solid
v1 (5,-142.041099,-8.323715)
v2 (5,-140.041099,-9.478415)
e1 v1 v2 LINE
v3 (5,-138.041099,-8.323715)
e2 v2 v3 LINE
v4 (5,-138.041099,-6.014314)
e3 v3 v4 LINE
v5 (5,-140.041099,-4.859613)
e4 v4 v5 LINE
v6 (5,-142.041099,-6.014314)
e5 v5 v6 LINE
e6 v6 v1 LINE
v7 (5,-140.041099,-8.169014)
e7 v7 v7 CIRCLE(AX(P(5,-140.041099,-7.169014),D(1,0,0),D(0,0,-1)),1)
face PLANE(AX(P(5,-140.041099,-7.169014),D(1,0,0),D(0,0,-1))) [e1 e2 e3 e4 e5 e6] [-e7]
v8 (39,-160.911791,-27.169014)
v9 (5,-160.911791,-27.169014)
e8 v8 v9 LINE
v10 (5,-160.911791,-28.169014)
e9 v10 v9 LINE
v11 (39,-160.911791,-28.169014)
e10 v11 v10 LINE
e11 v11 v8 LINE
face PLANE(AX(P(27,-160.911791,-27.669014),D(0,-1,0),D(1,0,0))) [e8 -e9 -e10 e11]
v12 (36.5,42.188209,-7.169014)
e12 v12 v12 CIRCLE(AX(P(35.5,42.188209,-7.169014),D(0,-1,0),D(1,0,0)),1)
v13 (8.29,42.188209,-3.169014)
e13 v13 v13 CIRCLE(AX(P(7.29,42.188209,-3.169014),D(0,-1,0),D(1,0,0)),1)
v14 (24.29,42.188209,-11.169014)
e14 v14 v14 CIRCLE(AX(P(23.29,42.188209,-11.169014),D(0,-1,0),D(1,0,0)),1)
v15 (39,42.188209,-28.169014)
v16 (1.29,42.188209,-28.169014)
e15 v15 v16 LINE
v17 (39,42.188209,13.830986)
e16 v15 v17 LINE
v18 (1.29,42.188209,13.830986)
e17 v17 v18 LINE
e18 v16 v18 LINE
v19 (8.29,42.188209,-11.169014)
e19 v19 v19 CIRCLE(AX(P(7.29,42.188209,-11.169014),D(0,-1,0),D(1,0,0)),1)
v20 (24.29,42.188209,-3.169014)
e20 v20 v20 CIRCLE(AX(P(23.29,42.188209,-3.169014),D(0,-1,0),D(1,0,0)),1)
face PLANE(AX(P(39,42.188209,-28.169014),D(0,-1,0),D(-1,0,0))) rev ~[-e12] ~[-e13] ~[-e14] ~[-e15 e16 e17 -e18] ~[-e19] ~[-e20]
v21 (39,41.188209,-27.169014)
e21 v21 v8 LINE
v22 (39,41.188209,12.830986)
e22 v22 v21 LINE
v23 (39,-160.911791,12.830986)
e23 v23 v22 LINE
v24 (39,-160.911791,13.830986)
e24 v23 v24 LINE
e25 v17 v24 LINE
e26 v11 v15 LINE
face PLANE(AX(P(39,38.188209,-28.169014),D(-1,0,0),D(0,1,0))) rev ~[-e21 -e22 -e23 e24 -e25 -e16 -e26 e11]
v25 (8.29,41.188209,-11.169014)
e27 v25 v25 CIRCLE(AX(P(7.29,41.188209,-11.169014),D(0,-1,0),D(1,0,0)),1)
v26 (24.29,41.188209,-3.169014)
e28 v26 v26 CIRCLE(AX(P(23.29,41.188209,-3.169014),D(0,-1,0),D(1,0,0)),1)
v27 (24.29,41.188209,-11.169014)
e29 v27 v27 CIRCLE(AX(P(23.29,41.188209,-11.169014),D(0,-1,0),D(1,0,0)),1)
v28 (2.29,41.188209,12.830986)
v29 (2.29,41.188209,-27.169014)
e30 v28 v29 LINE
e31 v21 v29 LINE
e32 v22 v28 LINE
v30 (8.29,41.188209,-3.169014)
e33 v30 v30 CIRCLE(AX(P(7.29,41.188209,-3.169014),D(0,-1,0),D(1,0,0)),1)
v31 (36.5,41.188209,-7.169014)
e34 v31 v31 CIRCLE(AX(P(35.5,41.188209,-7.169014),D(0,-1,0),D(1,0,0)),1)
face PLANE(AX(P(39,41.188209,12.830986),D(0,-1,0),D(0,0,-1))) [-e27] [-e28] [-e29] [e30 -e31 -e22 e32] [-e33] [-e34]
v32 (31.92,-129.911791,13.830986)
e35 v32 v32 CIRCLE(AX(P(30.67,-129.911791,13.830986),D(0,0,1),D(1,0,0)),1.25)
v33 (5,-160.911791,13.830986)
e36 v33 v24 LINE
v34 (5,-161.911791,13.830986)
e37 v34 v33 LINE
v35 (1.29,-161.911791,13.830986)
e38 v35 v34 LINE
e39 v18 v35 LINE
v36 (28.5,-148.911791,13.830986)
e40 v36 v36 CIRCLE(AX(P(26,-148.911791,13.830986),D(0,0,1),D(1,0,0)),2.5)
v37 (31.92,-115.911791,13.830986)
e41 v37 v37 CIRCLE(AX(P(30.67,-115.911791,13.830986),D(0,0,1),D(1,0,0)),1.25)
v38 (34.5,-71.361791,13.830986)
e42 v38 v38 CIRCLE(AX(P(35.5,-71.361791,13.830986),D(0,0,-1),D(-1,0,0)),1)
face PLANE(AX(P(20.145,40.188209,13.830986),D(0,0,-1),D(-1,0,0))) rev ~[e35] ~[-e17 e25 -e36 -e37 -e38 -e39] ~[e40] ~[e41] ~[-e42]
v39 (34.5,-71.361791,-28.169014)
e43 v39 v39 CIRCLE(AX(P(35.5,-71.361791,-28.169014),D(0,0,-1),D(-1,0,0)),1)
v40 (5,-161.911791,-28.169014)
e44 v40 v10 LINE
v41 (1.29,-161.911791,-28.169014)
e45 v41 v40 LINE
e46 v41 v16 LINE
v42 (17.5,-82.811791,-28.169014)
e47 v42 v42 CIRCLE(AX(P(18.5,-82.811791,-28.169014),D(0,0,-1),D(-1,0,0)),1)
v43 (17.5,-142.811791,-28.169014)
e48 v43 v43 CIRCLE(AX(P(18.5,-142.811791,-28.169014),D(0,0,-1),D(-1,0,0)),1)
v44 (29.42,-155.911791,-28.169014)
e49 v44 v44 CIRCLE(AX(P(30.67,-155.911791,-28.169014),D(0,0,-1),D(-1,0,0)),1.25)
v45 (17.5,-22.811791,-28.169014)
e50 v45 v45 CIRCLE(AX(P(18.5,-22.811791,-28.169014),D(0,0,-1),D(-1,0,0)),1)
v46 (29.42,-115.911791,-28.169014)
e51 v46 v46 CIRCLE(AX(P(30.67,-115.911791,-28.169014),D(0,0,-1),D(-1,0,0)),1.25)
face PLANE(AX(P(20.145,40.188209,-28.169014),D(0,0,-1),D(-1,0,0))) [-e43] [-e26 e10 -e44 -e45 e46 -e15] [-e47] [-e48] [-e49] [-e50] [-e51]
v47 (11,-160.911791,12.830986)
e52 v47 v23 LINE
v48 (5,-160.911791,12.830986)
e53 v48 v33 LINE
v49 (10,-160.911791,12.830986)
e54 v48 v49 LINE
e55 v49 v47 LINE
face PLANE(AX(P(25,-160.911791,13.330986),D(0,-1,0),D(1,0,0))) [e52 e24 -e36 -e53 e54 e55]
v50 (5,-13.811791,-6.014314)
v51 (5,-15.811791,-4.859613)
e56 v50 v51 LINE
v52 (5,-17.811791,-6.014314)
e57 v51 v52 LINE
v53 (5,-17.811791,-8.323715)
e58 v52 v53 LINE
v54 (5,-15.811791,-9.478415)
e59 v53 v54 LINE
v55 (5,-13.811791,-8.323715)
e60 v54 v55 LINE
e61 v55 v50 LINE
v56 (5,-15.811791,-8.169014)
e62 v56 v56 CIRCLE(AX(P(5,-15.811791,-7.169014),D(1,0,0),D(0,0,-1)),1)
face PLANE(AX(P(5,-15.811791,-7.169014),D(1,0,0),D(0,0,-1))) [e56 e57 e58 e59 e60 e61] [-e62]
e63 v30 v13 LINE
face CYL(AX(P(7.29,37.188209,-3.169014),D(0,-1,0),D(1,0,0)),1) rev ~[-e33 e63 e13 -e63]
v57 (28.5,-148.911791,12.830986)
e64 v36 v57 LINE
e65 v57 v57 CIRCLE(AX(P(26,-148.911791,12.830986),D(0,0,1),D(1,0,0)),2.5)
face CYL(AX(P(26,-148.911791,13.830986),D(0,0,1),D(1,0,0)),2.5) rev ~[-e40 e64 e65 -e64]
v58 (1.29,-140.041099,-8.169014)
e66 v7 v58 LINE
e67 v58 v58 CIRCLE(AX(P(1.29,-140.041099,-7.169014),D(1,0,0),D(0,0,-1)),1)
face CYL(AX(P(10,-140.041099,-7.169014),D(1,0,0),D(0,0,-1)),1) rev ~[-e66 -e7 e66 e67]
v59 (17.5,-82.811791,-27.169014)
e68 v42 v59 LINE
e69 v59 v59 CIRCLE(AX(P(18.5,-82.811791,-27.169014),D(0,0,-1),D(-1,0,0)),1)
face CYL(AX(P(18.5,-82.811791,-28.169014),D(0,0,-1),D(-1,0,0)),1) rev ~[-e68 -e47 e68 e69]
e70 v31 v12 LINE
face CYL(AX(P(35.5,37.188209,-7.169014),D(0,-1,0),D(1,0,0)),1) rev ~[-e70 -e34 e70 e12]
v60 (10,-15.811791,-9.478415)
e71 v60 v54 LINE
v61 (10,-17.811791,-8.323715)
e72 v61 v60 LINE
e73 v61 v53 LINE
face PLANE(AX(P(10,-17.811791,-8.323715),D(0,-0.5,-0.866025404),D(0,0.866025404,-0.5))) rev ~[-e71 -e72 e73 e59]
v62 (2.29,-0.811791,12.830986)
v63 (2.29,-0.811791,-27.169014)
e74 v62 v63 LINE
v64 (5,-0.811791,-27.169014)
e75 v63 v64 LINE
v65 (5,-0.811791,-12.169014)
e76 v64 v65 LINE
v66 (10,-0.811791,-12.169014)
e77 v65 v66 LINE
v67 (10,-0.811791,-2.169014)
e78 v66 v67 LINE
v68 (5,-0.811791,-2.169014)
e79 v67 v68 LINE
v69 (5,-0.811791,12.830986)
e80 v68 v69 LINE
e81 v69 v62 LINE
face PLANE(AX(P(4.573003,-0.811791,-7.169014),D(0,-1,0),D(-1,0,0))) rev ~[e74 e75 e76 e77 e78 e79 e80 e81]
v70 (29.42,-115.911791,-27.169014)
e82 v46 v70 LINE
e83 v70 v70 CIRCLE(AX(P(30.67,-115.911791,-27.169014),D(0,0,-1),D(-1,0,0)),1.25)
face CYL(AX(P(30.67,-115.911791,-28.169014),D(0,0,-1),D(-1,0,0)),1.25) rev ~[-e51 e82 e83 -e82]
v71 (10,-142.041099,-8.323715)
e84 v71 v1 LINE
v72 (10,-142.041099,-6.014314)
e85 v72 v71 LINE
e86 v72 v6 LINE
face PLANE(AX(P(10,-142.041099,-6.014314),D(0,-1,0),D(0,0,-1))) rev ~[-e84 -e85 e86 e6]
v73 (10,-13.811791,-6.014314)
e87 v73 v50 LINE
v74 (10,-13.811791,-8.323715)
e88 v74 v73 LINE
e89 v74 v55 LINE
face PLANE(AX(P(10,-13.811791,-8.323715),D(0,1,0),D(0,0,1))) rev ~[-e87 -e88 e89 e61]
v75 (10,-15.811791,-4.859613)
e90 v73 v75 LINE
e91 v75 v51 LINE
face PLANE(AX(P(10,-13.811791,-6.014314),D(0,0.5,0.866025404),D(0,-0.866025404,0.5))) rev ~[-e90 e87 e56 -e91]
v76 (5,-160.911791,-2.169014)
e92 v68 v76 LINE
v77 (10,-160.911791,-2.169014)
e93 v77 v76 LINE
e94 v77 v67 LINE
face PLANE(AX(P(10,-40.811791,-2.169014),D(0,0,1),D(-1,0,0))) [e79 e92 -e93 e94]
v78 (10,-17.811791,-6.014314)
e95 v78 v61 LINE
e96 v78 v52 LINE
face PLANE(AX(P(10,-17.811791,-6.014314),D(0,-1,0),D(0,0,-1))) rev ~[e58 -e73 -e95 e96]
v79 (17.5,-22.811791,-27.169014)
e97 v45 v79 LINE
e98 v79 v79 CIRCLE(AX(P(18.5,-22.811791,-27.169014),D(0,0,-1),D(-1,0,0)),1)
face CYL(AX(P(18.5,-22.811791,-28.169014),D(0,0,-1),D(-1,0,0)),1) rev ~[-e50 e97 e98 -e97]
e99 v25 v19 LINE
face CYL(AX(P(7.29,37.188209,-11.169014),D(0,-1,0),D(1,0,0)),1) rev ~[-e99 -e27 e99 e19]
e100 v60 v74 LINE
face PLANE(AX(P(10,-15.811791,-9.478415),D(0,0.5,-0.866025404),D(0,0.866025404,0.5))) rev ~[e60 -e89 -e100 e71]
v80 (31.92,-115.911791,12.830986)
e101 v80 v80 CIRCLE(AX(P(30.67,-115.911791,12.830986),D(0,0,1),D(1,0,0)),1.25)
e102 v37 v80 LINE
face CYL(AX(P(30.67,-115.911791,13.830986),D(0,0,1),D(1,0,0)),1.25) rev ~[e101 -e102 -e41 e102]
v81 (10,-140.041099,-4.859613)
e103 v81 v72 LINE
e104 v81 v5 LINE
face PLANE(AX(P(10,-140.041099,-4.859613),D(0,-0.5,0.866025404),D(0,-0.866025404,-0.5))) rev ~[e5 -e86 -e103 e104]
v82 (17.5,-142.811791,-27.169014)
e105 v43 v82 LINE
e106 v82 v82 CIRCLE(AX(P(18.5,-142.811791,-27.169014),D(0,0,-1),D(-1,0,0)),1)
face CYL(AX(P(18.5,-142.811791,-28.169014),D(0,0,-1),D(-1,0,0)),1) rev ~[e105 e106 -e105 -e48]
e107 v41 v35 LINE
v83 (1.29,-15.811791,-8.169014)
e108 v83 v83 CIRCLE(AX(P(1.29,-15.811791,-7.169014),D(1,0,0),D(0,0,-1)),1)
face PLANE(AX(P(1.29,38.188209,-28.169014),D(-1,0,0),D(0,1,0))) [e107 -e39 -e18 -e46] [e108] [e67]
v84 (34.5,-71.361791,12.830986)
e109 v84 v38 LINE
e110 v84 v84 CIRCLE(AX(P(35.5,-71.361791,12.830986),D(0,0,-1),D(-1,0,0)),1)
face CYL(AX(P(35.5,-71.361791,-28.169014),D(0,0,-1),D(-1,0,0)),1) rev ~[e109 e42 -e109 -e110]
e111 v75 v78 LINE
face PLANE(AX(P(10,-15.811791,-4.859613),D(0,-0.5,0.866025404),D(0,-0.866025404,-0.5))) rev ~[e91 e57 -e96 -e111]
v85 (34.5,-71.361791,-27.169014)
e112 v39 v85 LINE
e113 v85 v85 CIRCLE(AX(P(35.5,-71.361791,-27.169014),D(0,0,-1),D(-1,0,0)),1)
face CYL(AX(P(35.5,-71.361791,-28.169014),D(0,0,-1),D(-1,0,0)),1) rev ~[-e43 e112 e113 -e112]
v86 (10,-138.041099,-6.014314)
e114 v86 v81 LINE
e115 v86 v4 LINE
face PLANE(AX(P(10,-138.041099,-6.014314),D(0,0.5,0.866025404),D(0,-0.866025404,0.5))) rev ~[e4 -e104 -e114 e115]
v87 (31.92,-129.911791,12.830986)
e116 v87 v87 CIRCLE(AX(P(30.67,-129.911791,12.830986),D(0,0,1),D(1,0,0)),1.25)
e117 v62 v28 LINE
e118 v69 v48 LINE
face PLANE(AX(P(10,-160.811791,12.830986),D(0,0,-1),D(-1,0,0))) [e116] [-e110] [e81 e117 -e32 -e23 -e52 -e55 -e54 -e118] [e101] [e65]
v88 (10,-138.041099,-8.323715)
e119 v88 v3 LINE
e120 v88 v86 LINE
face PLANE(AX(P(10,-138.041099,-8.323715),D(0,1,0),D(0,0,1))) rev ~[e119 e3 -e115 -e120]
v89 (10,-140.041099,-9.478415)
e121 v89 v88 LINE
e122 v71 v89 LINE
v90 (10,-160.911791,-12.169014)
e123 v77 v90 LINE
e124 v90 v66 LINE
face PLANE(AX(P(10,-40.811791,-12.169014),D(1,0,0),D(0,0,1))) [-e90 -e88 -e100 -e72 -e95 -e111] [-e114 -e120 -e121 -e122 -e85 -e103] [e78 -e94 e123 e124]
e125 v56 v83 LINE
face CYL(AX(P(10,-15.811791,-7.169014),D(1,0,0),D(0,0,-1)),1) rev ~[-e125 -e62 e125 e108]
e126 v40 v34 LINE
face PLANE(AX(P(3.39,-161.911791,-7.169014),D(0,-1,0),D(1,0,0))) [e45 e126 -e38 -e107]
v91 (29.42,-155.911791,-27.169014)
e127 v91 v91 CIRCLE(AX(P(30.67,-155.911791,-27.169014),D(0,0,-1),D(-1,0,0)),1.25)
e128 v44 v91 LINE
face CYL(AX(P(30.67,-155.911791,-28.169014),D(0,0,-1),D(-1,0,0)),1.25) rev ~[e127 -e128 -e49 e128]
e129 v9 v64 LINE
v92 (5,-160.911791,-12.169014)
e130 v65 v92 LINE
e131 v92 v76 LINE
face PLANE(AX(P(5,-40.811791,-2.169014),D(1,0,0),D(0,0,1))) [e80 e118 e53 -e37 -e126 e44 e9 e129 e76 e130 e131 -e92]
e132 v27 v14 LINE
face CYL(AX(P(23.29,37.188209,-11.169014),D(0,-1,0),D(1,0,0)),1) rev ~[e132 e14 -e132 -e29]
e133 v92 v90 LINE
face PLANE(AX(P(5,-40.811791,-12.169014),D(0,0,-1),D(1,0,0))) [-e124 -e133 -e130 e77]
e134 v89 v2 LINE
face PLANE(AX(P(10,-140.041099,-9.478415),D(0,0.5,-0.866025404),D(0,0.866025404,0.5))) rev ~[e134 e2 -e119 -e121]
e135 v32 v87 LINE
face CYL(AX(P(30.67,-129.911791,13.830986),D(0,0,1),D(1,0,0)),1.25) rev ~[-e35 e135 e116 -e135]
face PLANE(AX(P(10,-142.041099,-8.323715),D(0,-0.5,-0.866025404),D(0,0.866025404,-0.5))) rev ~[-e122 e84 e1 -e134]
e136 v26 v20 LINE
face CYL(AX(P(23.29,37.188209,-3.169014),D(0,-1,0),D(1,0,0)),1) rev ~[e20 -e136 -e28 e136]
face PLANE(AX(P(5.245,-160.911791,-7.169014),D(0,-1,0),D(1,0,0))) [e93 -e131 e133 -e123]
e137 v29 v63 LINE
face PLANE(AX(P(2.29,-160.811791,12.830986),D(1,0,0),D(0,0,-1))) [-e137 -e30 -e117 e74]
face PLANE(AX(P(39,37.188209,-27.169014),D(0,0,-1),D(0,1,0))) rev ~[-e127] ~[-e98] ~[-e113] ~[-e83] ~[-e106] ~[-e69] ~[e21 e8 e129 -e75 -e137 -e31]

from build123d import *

# Parameters (mm, degrees)
SKETCH1_W            = 42
SKETCH1_H            = 170
BOSS_EXTRUDE1_DEPTH  = 1
SKETCH2_W            = 1
SKETCH2_H            = 170
BOSS_EXTRUDE2_DEPTH  = 50
BOSS_EXTRUDE3_DEPTH  = 30
SKETCH5_W            = 1
SKETCH5_H            = 1
CUT_EXTRUDE1_DEPTH   = 170
SKETCH6_W            = 1
SKETCH6_H            = 1
CUT_EXTRUDE2_DEPTH   = 170
SKETCH9_R            = 1.5
CUT_EXTRUDE3_DEPTH   = 10
SKETCH10_R           = 1.5
CUT_EXTRUDE4_DEPTH   = 10
SKETCH11_R           = 2.028327886
BOSS_EXTRUDE4_DEPTH  = 1
SKETCH13_W           = 40
SKETCH13_H           = 22.9
BOSS_EXTRUDE5_DEPTH  = 50
SKETCH14_W           = 42
SKETCH14_H           = 21.9
CUT_EXTRUDE6_DEPTH   = 60
SKETCH17_R           = 1
CUT_EXTRUDE7_DEPTH   = 10
SKETCH18_W           = 40
SKETCH18_H           = 1
SKETCH18_W_2         = 36
SKETCH18_W_3         = 13
SKETCH18_W_4         = 9
BOSS_EXTRUDE7_DEPTH  = 1
SKETCH19_W           = 1
SKETCH19_H           = 42
BOSS_EXTRUDE8_DEPTH  = 1
SKETCH20_W           = 1.000149207
SKETCH20_H           = 1
CUT_EXTRUDE8_DEPTH   = 1
SKETCH21_W           = 1
SKETCH21_H           = 1
CUT_EXTRUDE9_DEPTH   = 1
BOSS_EXTRUDE9_REACH  = 44
SKETCH22_W           = 1
SKETCH22_H           = 31
SKETCH26_W           = 11.5
SKETCH26_H           = 42
BOSS_EXTRUDE13_DEPTH = 1
SKETCH35_W           = 40
SKETCH35_H           = 31
CUT_EXTRUDE17_DEPTH  = 27
SKETCH36_W           = 42
SKETCH36_H           = 1
CUT_EXTRUDE18_DEPTH  = 24
SKETCH37_W           = 12
SKETCH37_H           = 212.744224338
CUT_EXTRUDE19_DEPTH  = 50
SKETCH39_R           = 1.25
CUT_EXTRUDE20_DEPTH  = 10
SKETCH40_R           = 1.25
CUT_EXTRUDE21_DEPTH  = 10
SKETCH41_R           = 2.590750915
BOSS_EXTRUDE14_DEPTH = 1
SKETCH42_R           = 1.25
CUT_EXTRUDE22_DEPTH  = 1
SKETCH43_R           = 1.25
CUT_EXTRUDE23_DEPTH  = 1
SKETCH44_R           = 6.392169631
BOSS_EXTRUDE16_DEPTH = 1
SKETCH45_R           = 1.25
CUT_EXTRUDE24_DEPTH  = 1
SKETCH46_W           = 1.29
SKETCH46_H           = 42
CUT_EXTRUDE25_DEPTH  = 190
SKETCH47_W           = 1
SKETCH47_H           = 42
BOSS_EXTRUDE17_DEPTH = 179.1
SKETCH48_W           = 37.71
SKETCH48_H           = 0.1
CUT_EXTRUDE26_DEPTH  = 179.1
SKETCH50_W           = 10
SKETCH50_H           = 120
BOSS_EXTRUDE20_DEPTH = 4
SKETCH52_W           = 28
SKETCH52_H           = 1
SKETCH52_W_2         = 24
BOSS_EXTRUDE21_DEPTH = 0.1
BOSS_EXTRUDE22_DEPTH = 0.1
SKETCH54_W           = 10
SKETCH54_H           = 120.1
BOSS_EXTRUDE23_DEPTH = 3.71
SKETCH55_W           = 4.2
SKETCH55_H           = 42
BOSS_EXTRUDE24_DEPTH = 1
SKETCH56_W           = 0.49
SKETCH56_H           = 42
CUT_EXTRUDE27_DEPTH  = 1
SKETCH58_R           = 1
CUT_EXTRUDE28_DEPTH  = 1
SKETCH59_R           = 1.868831557
BOSS_EXTRUDE25_DEPTH = 1
SKETCH60_R           = 1
CUT_EXTRUDE29_DEPTH  = 1
SKETCH61_R           = 1
CUT_EXTRUDE30_DEPTH  = 1
SKETCH62_W           = 5.426939544
SKETCH62_H           = 172.64225577
BOSS_EXTRUDE26_DEPTH = 1
SKETCH63_W           = 5.574315559
SKETCH63_H           = 175.575200823
BOSS_EXTRUDE27_DEPTH = 1
SKETCH64_W           = 3.71
SKETCH64_H           = 42
BOSS_EXTRUDE29_DEPTH = 121.1
SKETCH66_R           = 1
CUT_EXTRUDE31_DEPTH  = 43
SKETCH67_R           = 1
CUT_EXTRUDE32_DEPTH  = 1
SKETCH68_R           = 2.5
CUT_EXTRUDE33_DEPTH  = 10
SKETCH71_R           = 1
CUT_EXTRUDE35_DEPTH  = 10
SKETCH72_W           = 37.71
SKETCH72_H           = 20
BOSS_EXTRUDE30_DEPTH = 42
SKETCH73_R           = 1
CUT_EXTRUDE36_DEPTH  = 42
SKETCH74_W           = 40
SKETCH74_H           = 20
CUT_EXTRUDE38_DEPTH  = 36.71
SKETCH75_W           = 37.71
SKETCH75_H           = 4
BOSS_EXTRUDE31_DEPTH = 42
SKETCH76_R           = 1
CUT_EXTRUDE39_DEPTH  = 42
SKETCH77_W           = 40
SKETCH77_H           = 4
CUT_EXTRUDE40_DEPTH  = 36.71
BOSS_EXTRUDE32_DEPTH = 40
CUT_EXTRUDE41_DEPTH  = 5
CUT_EXTRUDE42_DEPTH  = 5
SKETCH81_R           = 1
CUT_EXTRUDE43_DEPTH  = 9.71
SKETCH82_R           = 1
CUT_EXTRUDE44_DEPTH  = 9.71


with BuildPart() as part:
    # Sketch1 → Boss-Extrude1 (new body)
    with BuildSketch(Plane(origin=(0, 0, 0), x_dir=(0, 0, -1), z_dir=(1, 0, 0))):
        with Locations((7.169014085, -74.911791253)):
            Rectangle(SKETCH1_W, SKETCH1_H)
    extrude(amount=BOSS_EXTRUDE1_DEPTH)

    # Sketch2 → Boss-Extrude2 (add)
    with BuildSketch(Plane(origin=(1, 0, 0), x_dir=(0, 0, -1), z_dir=(1, 0, 0))):
        with Locations((27.669014085, -74.911791253)):
            Rectangle(SKETCH2_W, SKETCH2_H)
        with Locations((-13.330985915, -74.911791253)):
            Rectangle(SKETCH2_W, SKETCH2_H)
    extrude(amount=BOSS_EXTRUDE2_DEPTH)

    # Sketch4 → Boss-Extrude3 (add)
    with BuildSketch(Plane(origin=(0, 10.088208747, 0), x_dir=(1, 0, 0), z_dir=(0, 1, 0))):
        Polygon((51, 28.169014085), (51, 27.169014085), (1, 27.169014085), (1, -12.830985915), (51, -12.830985915), (51, -13.830985915), (0, -13.830985915), (0, 28.169014085), align=None)
    extrude(amount=BOSS_EXTRUDE3_DEPTH)

    # Sketch5 → Cut-Extrude1 (cut)
    with BuildSketch(Plane.XZ.offset(159.911791253)):
        with Locations((10.5, 13.330985915)):
            Rectangle(SKETCH5_W, SKETCH5_H)
    extrude(amount=-CUT_EXTRUDE1_DEPTH, mode=Mode.SUBTRACT)

    # Sketch6 → Cut-Extrude2 (cut)
    with BuildSketch(Plane.XZ.offset(159.911791253)):
        with Locations((14.5, -27.669014085)):
            Rectangle(SKETCH6_W, SKETCH6_H)
    extrude(amount=-CUT_EXTRUDE2_DEPTH, mode=Mode.SUBTRACT)

    # Sketch9 → Cut-Extrude3 (cut)
    with BuildSketch(Plane.XY.offset(13.830985915)):
        with Locations((26, -144.911791253)):
            Circle(SKETCH9_R)
    extrude(amount=-CUT_EXTRUDE3_DEPTH, mode=Mode.SUBTRACT)

    # Sketch10 → Cut-Extrude4 (cut)
    with BuildSketch(Plane.XY.offset(13.830985915)):
        with Locations((26, -148.911791253)):
            Circle(SKETCH10_R)
    extrude(amount=-CUT_EXTRUDE4_DEPTH, mode=Mode.SUBTRACT)

    # Sketch11 → Boss-Extrude4 (add)
    with BuildSketch(Plane.XY.offset(13.830985915)):
        with Locations((26, -144.911791253)):
            Circle(SKETCH11_R)
    extrude(amount=-BOSS_EXTRUDE4_DEPTH)

    # Sketch13 → Boss-Extrude5 (add)
    with BuildSketch(Plane(origin=(1, 0, 0), x_dir=(0, 0, -1), z_dir=(1, 0, 0))):
        with Locations((7.169014085, 28.638208747)):
            Rectangle(SKETCH13_W, SKETCH13_H)
    extrude(amount=BOSS_EXTRUDE5_DEPTH)

    # Sketch14 → Cut-Extrude6 (cut)
    with BuildSketch(Plane(origin=(51, 0, 0), x_dir=(0, 0, -1), z_dir=(1, 0, 0))):
        with Locations((7.169014085, 29.138208747)):
            Rectangle(SKETCH14_W, SKETCH14_H)
    extrude(amount=-CUT_EXTRUDE6_DEPTH, mode=Mode.SUBTRACT)

    # Sketch17 → Cut-Extrude7 (cut)
    with BuildSketch(Plane.XZ.offset(-17.188208747)):
        with Locations((23.29, -11.169014085)):
            Circle(SKETCH17_R)
        with Locations((23.29, -3.169014085)):
            Circle(SKETCH17_R)
        with Locations((7.29, -11.169014085)):
            Circle(SKETCH17_R)
        with Locations((7.29, -3.169014085)):
            Circle(SKETCH17_R)
    extrude(amount=-CUT_EXTRUDE7_DEPTH, mode=Mode.SUBTRACT)

    # Sketch18 → Boss-Extrude7 (add)
    with BuildSketch(Plane.XZ.offset(159.911791253)):
        with Locations((31, 13.330985915)):
            Rectangle(SKETCH18_W, SKETCH18_H)
        with Locations((33, -27.669014085)):
            Rectangle(SKETCH18_W_2, SKETCH18_H)
        with Locations((7.5, -27.669014085)):
            Rectangle(SKETCH18_W_3, SKETCH18_H)
        with Locations((5.5, 13.330985915)):
            Rectangle(SKETCH18_W_4, SKETCH18_H)
    extrude(amount=BOSS_EXTRUDE7_DEPTH)

    # Sketch19 → Boss-Extrude8 (add)
    with BuildSketch(Plane.XZ.offset(159.911791253)):
        with Locations((0.5, -7.169014085)):
            Rectangle(SKETCH19_W, SKETCH19_H)
    extrude(amount=BOSS_EXTRUDE8_DEPTH)

    # Sketch20 → Cut-Extrude8 (cut)
    with BuildSketch(Plane(origin=(0, 0, -28.169014085), x_dir=(-1, 0, 0), z_dir=(0, 0, -1))):
        with Locations((-14.499925397, 10.588208747)):
            Rectangle(SKETCH20_W, SKETCH20_H)
    extrude(amount=-CUT_EXTRUDE8_DEPTH, mode=Mode.SUBTRACT)

    # Sketch21 → Cut-Extrude9 (cut)
    with BuildSketch(Plane.XY.offset(13.830985915)):
        with Locations((10.5, 10.588208747)):
            Rectangle(SKETCH21_W, SKETCH21_H)
    extrude(amount=-CUT_EXTRUDE9_DEPTH, mode=Mode.SUBTRACT)

    # Sketch22 → Boss-Extrude9 (add, up to next)
    with BuildSketch(Plane.XY.offset(13.830985915), mode=Mode.PRIVATE) as boss_extrude9_sk1:
        with Locations((38.5, -145.411791253)):
            Rectangle(SKETCH22_W, SKETCH22_H)
    boss_extrude9_tool1 = extrude(boss_extrude9_sk1.sketch, amount=-BOSS_EXTRUDE9_REACH, mode=Mode.PRIVATE) - part.part
    add(boss_extrude9_tool1.solids().sort_by_distance((38.5, -145.411791, 13.830986))[0])

    # Sketch26 → Boss-Extrude13 (add)
    with BuildSketch(Plane(origin=(0, -160.911791253, 0), x_dir=(-1, 0, 0), z_dir=(0, -1, 0))):
        with Locations((-22.127481667, 7.169014085)):
            Rectangle(SKETCH26_W, SKETCH26_H)
    extrude(amount=BOSS_EXTRUDE13_DEPTH)

    # Sketch35 → Cut-Extrude17 (cut)
    with BuildSketch(Plane(origin=(39, 0, 0), x_dir=(0, 0, -1), z_dir=(1, 0, 0))):
        with Locations((7.169014085, -145.411791253)):
            Rectangle(SKETCH35_W, SKETCH35_H)
    extrude(amount=-CUT_EXTRUDE17_DEPTH, mode=Mode.SUBTRACT)

    # Sketch36 → Cut-Extrude18 (cut)
    with BuildSketch(Plane(origin=(27.877481667, 0, 0), x_dir=(0, 0, -1), z_dir=(1, 0, 0))):
        with Locations((7.169014085, -161.411791253)):
            Rectangle(SKETCH36_W, SKETCH36_H)
    extrude(amount=-CUT_EXTRUDE18_DEPTH, mode=Mode.SUBTRACT)

    # Sketch37 → Cut-Extrude19 (cut)
    with BuildSketch(Plane.XY.offset(13.830985915)):
        with Locations((45, -54.539679084)):
            Rectangle(SKETCH37_W, SKETCH37_H)
    extrude(amount=-CUT_EXTRUDE19_DEPTH, mode=Mode.SUBTRACT)

    # Sketch39 → Cut-Extrude20 (cut)
    with BuildSketch(Plane(origin=(0, 0, -28.169014085), x_dir=(-1, 0, 0), z_dir=(0, 0, -1))):
        with Locations((-30.67, -155.911791253)):
            Circle(SKETCH39_R)
    extrude(amount=-CUT_EXTRUDE20_DEPTH, mode=Mode.SUBTRACT)

    # Sketch40 → Cut-Extrude21 (cut)
    with BuildSketch(Plane(origin=(0, 0, -28.169014085), x_dir=(-1, 0, 0), z_dir=(0, 0, -1))):
        with Locations((-30.67, -129.911791253)):
            Circle(SKETCH40_R)
    extrude(amount=-CUT_EXTRUDE21_DEPTH, mode=Mode.SUBTRACT)

    # Sketch41 → Boss-Extrude14 (add)
    with BuildSketch(Plane(origin=(0, 0, -28.169014085), x_dir=(-1, 0, 0), z_dir=(0, 0, -1))):
        with Locations((-30.67, -129.911791253)):
            Circle(SKETCH41_R)
    extrude(amount=-BOSS_EXTRUDE14_DEPTH)

    # Sketch42 → Cut-Extrude22 (cut)
    with BuildSketch(Plane(origin=(0, 0, -28.169014085), x_dir=(-1, 0, 0), z_dir=(0, 0, -1))):
        with Locations((-30.67, -115.911791253)):
            Circle(SKETCH42_R)
    extrude(amount=-CUT_EXTRUDE22_DEPTH, mode=Mode.SUBTRACT)

    # Sketch43 → Cut-Extrude23 (cut)
    with BuildSketch(Plane.XY.offset(13.830985915)):
        with Locations((30.67, -128.911791253)):
            Circle(SKETCH43_R)
        with Locations((30.67, -115.911791253)):
            Circle(SKETCH43_R)
    extrude(amount=-CUT_EXTRUDE23_DEPTH, mode=Mode.SUBTRACT)

    # Sketch44 → Boss-Extrude16 (add)
    with BuildSketch(Plane.XY.offset(13.830985915)):
        with Locations((27.109567227, -127.276171825)):
            Circle(SKETCH44_R)
    extrude(amount=-BOSS_EXTRUDE16_DEPTH)

    # Sketch45 → Cut-Extrude24 (cut)
    with BuildSketch(Plane.XY.offset(13.830985915)):
        with Locations((30.67, -129.911791253)):
            Circle(SKETCH45_R)
    extrude(amount=-CUT_EXTRUDE24_DEPTH, mode=Mode.SUBTRACT)

    # Sketch46 → Cut-Extrude25 (cut)
    with BuildSketch(Plane(origin=(0, 18.188208747, 0), x_dir=(1, 0, 0), z_dir=(0, 1, 0))):
        with Locations((0.645, 7.169014085)):
            Rectangle(SKETCH46_W, SKETCH46_H)
    extrude(amount=-CUT_EXTRUDE25_DEPTH, mode=Mode.SUBTRACT)

    # Sketch47 → Boss-Extrude17 (add)
    with BuildSketch(Plane(origin=(0, 18.188208747, 0), x_dir=(1, 0, 0), z_dir=(0, 1, 0))):
        with Locations((1.79, 7.169014085)):
            Rectangle(SKETCH47_W, SKETCH47_H)
    extrude(amount=-BOSS_EXTRUDE17_DEPTH)

    # Sketch48 → Cut-Extrude26 (cut)
    with BuildSketch(Plane(origin=(0, 0, -28.169014085), x_dir=(-1, 0, 0), z_dir=(0, 0, -1))):
        with Locations((-20.145, -160.861791253)):
            Rectangle(SKETCH48_W, SKETCH48_H)
    extrude(amount=-CUT_EXTRUDE26_DEPTH, mode=Mode.SUBTRACT)

    # Sketch50 → Boss-Extrude20 (add)
    with BuildSketch(Plane(origin=(2.29, 0, 0), x_dir=(0, 0, -1), z_dir=(1, 0, 0))):
        with Locations((7.169014085, -100.811791253)):
            Rectangle(SKETCH50_W, SKETCH50_H)
    extrude(amount=BOSS_EXTRUDE20_DEPTH)

    # Sketch52 → Boss-Extrude21 (add)
    with BuildSketch(Plane.XZ.offset(160.811791253)):
        with Locations((25, 13.330985915)):
            Rectangle(SKETCH52_W, SKETCH52_H)
        with Locations((27, -27.669014085)):
            Rectangle(SKETCH52_W_2, SKETCH52_H)
    extrude(amount=BOSS_EXTRUDE21_DEPTH)

    # Sketch53 → Boss-Extrude22 (add)
    with BuildSketch(Plane(origin=(0, -160.811791253, 0), x_dir=(-1, 0, 0), z_dir=(0, -1, 0))):
        Polygon((-10, -13.830985915), (-10, -12.830985915), (-2.29, -12.830985915), (-2.29, 2.169014085), (-6.29, 2.169014085), (-6.29, 12.169014085), (-2.29, 12.169014085), (-2.29, 27.169014085), (-13.999850793, 27.169014085), (-14, 28.169014085), (-1.29, 28.169014085), (-1.29, -13.830985915), align=None)
    extrude(amount=BOSS_EXTRUDE22_DEPTH)

    # Sketch54 → Boss-Extrude23 (add)
    with BuildSketch(Plane(origin=(6.29, 0, 0), x_dir=(0, 0, -1), z_dir=(1, 0, 0))):
        with Locations((7.169014085, -100.861791253)):
            Rectangle(SKETCH54_W, SKETCH54_H)
    extrude(amount=BOSS_EXTRUDE23_DEPTH)

    # Sketch55 → Boss-Extrude24 (add)
    with BuildSketch(Plane.XZ.offset(160.911791253)):
        with Locations((3.39, -7.169014085)):
            Rectangle(SKETCH55_W, SKETCH55_H)
    extrude(amount=BOSS_EXTRUDE24_DEPTH)

    # Sketch56 → Cut-Extrude27 (cut)
    with BuildSketch(Plane.XZ.offset(161.911791253)):
        with Locations((5.245, -7.169014085)):
            Rectangle(SKETCH56_W, SKETCH56_H)
    extrude(amount=-CUT_EXTRUDE27_DEPTH, mode=Mode.SUBTRACT)

    # Sketch58 → Cut-Extrude28 (cut)
    with BuildSketch(Plane(origin=(0, 0, -28.169014085), x_dir=(-1, 0, 0), z_dir=(0, 0, -1))):
        with Locations((-17.5, -22.811791253)):
            Circle(SKETCH58_R)
    extrude(amount=-CUT_EXTRUDE28_DEPTH, mode=Mode.SUBTRACT)

    # Sketch59 → Boss-Extrude25 (add)
    with BuildSketch(Plane(origin=(0, 0, -28.169014085), x_dir=(-1, 0, 0), z_dir=(0, 0, -1))):
        with Locations((-17.5, -22.811791253)):
            Circle(SKETCH59_R)
    extrude(amount=-BOSS_EXTRUDE25_DEPTH)

    # Sketch60 → Cut-Extrude29 (cut)
    with BuildSketch(Plane(origin=(0, 0, -28.169014085), x_dir=(-1, 0, 0), z_dir=(0, 0, -1))):
        with Locations((-18.5, -22.811791253)):
            Circle(SKETCH60_R)
    extrude(amount=-CUT_EXTRUDE29_DEPTH, mode=Mode.SUBTRACT)

    # Sketch61 → Cut-Extrude30 (cut)
    with BuildSketch(Plane(origin=(0, 0, -28.169014085), x_dir=(-1, 0, 0), z_dir=(0, 0, -1))):
        with Locations((-18.5, -82.811791253)):
            Circle(SKETCH61_R)
    extrude(amount=-CUT_EXTRUDE30_DEPTH, mode=Mode.SUBTRACT)

    # Sketch62 → Boss-Extrude26 (add)
    with BuildSketch(Plane(origin=(0, 0, -28.169014085), x_dir=(-1, 0, 0), z_dir=(0, 0, -1))):
        with Locations((-13.713469772, -74.590663368)):
            Rectangle(SKETCH62_W, SKETCH62_H)
    extrude(amount=-BOSS_EXTRUDE26_DEPTH)

    # Sketch63 → Boss-Extrude27 (add)
    with BuildSketch(Plane.XY.offset(13.830985915)):
        with Locations((11.581123443, -73.124190842)):
            Rectangle(SKETCH63_W, SKETCH63_H)
    extrude(amount=-BOSS_EXTRUDE27_DEPTH)

    # Sketch64 → Boss-Extrude29 (add)
    with BuildSketch(Plane.XZ.offset(161.911791253)):
        with Locations((3.145, -7.169014085)):
            Rectangle(SKETCH64_W, SKETCH64_H)
    extrude(amount=-BOSS_EXTRUDE29_DEPTH)

    # Sketch66 → Cut-Extrude31 (cut, through all)
    with BuildSketch(Plane(origin=(0, 0, -28.169014085), x_dir=(-1, 0, 0), z_dir=(0, 0, -1))):
        with Locations((-35.5, -71.361791253)):
            Circle(SKETCH66_R)
    extrude(amount=-CUT_EXTRUDE31_DEPTH, mode=Mode.SUBTRACT)

    # Sketch67 → Cut-Extrude32 (cut)
    with BuildSketch(Plane(origin=(0, 18.188208747, 0), x_dir=(1, 0, 0), z_dir=(0, 1, 0))):
        with Locations((35.5, 7.169014085)):
            Circle(SKETCH67_R)
    extrude(amount=-CUT_EXTRUDE32_DEPTH, mode=Mode.SUBTRACT)

    # Sketch68 → Cut-Extrude33 (cut)
    with BuildSketch(Plane.XY.offset(13.830985915)):
        with Locations((26, -148.911791253)):
            Circle(SKETCH68_R)
    extrude(amount=-CUT_EXTRUDE33_DEPTH, mode=Mode.SUBTRACT)

    # Sketch71 → Cut-Extrude35 (cut)
    with BuildSketch(Plane(origin=(0, 0, -28.169014085), x_dir=(-1, 0, 0), z_dir=(0, 0, -1))):
        with Locations((-18.5, -142.811791253)):
            Circle(SKETCH71_R)
    extrude(amount=-CUT_EXTRUDE35_DEPTH, mode=Mode.SUBTRACT)

    # Sketch72 → Boss-Extrude30 (add)
    with BuildSketch(Plane(origin=(0, 0, -28.169014085), x_dir=(-1, 0, 0), z_dir=(0, 0, -1))):
        with Locations((-20.145, 28.188208747)):
            Rectangle(SKETCH72_W, SKETCH72_H)
    extrude(amount=-BOSS_EXTRUDE30_DEPTH)

    # Sketch73 → Cut-Extrude36 (cut)
    with BuildSketch(Plane.XZ.offset(-17.188208747)):
        with Locations((7.29, -3.169014085)):
            Circle(SKETCH73_R)
        with Locations((23.29, -3.169014085)):
            Circle(SKETCH73_R)
        with Locations((35.5, -7.169014085)):
            Circle(SKETCH73_R)
        with Locations((23.29, -11.169014085)):
            Circle(SKETCH73_R)
        with Locations((7.29, -11.169014085)):
            Circle(SKETCH73_R)
    extrude(amount=-CUT_EXTRUDE36_DEPTH, mode=Mode.SUBTRACT)

    # Sketch74 → Cut-Extrude38 (cut)
    with BuildSketch(Plane(origin=(39, 0, 0), x_dir=(0, 0, -1), z_dir=(1, 0, 0))):
        with Locations((7.169014085, 27.188208747)):
            Rectangle(SKETCH74_W, SKETCH74_H)
    extrude(amount=-CUT_EXTRUDE38_DEPTH, mode=Mode.SUBTRACT)

    # Sketch75 → Boss-Extrude31 (add)
    with BuildSketch(Plane(origin=(0, 0, -28.169014085), x_dir=(-1, 0, 0), z_dir=(0, 0, -1))):
        with Locations((-20.145, 40.188208747)):
            Rectangle(SKETCH75_W, SKETCH75_H)
    extrude(amount=-BOSS_EXTRUDE31_DEPTH)

    # Sketch76 → Cut-Extrude39 (cut)
    with BuildSketch(Plane.XZ.offset(-37.188208747)):
        with Locations((35.5, -7.169014085)):
            Circle(SKETCH76_R)
        with Locations((23.29, -3.169014085)):
            Circle(SKETCH76_R)
        with Locations((23.29, -11.169014085)):
            Circle(SKETCH76_R)
        with Locations((7.29, -3.169014085)):
            Circle(SKETCH76_R)
        with Locations((7.29, -11.169014085)):
            Circle(SKETCH76_R)
    extrude(amount=-CUT_EXTRUDE39_DEPTH, mode=Mode.SUBTRACT)

    # Sketch77 → Cut-Extrude40 (cut)
    with BuildSketch(Plane(origin=(39, 0, 0), x_dir=(0, 0, -1), z_dir=(1, 0, 0))):
        with Locations((7.169014085, 39.188208747)):
            Rectangle(SKETCH77_W, SKETCH77_H)
    extrude(amount=-CUT_EXTRUDE40_DEPTH, mode=Mode.SUBTRACT)

    # Sketch78 → Boss-Extrude32 (add)
    with BuildSketch(Plane(origin=(0, -40.811791253, 0), x_dir=(1, 0, 0), z_dir=(0, 1, 0))):
        Polygon((10, 2.169014085), (5, 2.169014085), (5, -12.830985915), (2.29, -12.830985915), (2.29, 27.169014085), (5, 27.169014085), (5, 12.169014085), (10, 12.169014085), align=None)
    extrude(amount=BOSS_EXTRUDE32_DEPTH)

    # Sketch79 → Cut-Extrude41 (cut)
    with BuildSketch(Plane(origin=(10, 0, 0), x_dir=(0, 0, -1), z_dir=(1, 0, 0))):
        Polygon((8.323714623, -17.811791253), (9.478415161, -15.811791253), (8.323714623, -13.811791253), (6.014313546, -13.811791253), (4.859613008, -15.811791253), (6.014313546, -17.811791253), align=None)
    extrude(amount=-CUT_EXTRUDE41_DEPTH, mode=Mode.SUBTRACT)

    # Sketch80 → Cut-Extrude42 (cut)
    with BuildSketch(Plane(origin=(10, 0, 0), x_dir=(0, 0, -1), z_dir=(1, 0, 0))):
        Polygon((8.323714623, -142.041098915), (9.478415161, -140.041098915), (8.323714623, -138.041098915), (6.014313546, -138.041098915), (4.859613008, -140.041098915), (6.014313546, -142.041098915), align=None)
    extrude(amount=-CUT_EXTRUDE42_DEPTH, mode=Mode.SUBTRACT)

    # Sketch81 → Cut-Extrude43 (cut, through all)
    with BuildSketch(Plane(origin=(10, 0, 0), x_dir=(0, 0, -1), z_dir=(1, 0, 0))):
        with Locations((7.169014085, -15.811791253)):
            Circle(SKETCH81_R)
    extrude(amount=-CUT_EXTRUDE43_DEPTH, mode=Mode.SUBTRACT)

    # Sketch82 → Cut-Extrude44 (cut, through all)
    with BuildSketch(Plane(origin=(10, 0, 0), x_dir=(0, 0, -1), z_dir=(1, 0, 0))):
        with Locations((7.169014085, -140.041098915)):
            Circle(SKETCH82_R)
    extrude(amount=-CUT_EXTRUDE44_DEPTH, mode=Mode.SUBTRACT)


solid = part.part
